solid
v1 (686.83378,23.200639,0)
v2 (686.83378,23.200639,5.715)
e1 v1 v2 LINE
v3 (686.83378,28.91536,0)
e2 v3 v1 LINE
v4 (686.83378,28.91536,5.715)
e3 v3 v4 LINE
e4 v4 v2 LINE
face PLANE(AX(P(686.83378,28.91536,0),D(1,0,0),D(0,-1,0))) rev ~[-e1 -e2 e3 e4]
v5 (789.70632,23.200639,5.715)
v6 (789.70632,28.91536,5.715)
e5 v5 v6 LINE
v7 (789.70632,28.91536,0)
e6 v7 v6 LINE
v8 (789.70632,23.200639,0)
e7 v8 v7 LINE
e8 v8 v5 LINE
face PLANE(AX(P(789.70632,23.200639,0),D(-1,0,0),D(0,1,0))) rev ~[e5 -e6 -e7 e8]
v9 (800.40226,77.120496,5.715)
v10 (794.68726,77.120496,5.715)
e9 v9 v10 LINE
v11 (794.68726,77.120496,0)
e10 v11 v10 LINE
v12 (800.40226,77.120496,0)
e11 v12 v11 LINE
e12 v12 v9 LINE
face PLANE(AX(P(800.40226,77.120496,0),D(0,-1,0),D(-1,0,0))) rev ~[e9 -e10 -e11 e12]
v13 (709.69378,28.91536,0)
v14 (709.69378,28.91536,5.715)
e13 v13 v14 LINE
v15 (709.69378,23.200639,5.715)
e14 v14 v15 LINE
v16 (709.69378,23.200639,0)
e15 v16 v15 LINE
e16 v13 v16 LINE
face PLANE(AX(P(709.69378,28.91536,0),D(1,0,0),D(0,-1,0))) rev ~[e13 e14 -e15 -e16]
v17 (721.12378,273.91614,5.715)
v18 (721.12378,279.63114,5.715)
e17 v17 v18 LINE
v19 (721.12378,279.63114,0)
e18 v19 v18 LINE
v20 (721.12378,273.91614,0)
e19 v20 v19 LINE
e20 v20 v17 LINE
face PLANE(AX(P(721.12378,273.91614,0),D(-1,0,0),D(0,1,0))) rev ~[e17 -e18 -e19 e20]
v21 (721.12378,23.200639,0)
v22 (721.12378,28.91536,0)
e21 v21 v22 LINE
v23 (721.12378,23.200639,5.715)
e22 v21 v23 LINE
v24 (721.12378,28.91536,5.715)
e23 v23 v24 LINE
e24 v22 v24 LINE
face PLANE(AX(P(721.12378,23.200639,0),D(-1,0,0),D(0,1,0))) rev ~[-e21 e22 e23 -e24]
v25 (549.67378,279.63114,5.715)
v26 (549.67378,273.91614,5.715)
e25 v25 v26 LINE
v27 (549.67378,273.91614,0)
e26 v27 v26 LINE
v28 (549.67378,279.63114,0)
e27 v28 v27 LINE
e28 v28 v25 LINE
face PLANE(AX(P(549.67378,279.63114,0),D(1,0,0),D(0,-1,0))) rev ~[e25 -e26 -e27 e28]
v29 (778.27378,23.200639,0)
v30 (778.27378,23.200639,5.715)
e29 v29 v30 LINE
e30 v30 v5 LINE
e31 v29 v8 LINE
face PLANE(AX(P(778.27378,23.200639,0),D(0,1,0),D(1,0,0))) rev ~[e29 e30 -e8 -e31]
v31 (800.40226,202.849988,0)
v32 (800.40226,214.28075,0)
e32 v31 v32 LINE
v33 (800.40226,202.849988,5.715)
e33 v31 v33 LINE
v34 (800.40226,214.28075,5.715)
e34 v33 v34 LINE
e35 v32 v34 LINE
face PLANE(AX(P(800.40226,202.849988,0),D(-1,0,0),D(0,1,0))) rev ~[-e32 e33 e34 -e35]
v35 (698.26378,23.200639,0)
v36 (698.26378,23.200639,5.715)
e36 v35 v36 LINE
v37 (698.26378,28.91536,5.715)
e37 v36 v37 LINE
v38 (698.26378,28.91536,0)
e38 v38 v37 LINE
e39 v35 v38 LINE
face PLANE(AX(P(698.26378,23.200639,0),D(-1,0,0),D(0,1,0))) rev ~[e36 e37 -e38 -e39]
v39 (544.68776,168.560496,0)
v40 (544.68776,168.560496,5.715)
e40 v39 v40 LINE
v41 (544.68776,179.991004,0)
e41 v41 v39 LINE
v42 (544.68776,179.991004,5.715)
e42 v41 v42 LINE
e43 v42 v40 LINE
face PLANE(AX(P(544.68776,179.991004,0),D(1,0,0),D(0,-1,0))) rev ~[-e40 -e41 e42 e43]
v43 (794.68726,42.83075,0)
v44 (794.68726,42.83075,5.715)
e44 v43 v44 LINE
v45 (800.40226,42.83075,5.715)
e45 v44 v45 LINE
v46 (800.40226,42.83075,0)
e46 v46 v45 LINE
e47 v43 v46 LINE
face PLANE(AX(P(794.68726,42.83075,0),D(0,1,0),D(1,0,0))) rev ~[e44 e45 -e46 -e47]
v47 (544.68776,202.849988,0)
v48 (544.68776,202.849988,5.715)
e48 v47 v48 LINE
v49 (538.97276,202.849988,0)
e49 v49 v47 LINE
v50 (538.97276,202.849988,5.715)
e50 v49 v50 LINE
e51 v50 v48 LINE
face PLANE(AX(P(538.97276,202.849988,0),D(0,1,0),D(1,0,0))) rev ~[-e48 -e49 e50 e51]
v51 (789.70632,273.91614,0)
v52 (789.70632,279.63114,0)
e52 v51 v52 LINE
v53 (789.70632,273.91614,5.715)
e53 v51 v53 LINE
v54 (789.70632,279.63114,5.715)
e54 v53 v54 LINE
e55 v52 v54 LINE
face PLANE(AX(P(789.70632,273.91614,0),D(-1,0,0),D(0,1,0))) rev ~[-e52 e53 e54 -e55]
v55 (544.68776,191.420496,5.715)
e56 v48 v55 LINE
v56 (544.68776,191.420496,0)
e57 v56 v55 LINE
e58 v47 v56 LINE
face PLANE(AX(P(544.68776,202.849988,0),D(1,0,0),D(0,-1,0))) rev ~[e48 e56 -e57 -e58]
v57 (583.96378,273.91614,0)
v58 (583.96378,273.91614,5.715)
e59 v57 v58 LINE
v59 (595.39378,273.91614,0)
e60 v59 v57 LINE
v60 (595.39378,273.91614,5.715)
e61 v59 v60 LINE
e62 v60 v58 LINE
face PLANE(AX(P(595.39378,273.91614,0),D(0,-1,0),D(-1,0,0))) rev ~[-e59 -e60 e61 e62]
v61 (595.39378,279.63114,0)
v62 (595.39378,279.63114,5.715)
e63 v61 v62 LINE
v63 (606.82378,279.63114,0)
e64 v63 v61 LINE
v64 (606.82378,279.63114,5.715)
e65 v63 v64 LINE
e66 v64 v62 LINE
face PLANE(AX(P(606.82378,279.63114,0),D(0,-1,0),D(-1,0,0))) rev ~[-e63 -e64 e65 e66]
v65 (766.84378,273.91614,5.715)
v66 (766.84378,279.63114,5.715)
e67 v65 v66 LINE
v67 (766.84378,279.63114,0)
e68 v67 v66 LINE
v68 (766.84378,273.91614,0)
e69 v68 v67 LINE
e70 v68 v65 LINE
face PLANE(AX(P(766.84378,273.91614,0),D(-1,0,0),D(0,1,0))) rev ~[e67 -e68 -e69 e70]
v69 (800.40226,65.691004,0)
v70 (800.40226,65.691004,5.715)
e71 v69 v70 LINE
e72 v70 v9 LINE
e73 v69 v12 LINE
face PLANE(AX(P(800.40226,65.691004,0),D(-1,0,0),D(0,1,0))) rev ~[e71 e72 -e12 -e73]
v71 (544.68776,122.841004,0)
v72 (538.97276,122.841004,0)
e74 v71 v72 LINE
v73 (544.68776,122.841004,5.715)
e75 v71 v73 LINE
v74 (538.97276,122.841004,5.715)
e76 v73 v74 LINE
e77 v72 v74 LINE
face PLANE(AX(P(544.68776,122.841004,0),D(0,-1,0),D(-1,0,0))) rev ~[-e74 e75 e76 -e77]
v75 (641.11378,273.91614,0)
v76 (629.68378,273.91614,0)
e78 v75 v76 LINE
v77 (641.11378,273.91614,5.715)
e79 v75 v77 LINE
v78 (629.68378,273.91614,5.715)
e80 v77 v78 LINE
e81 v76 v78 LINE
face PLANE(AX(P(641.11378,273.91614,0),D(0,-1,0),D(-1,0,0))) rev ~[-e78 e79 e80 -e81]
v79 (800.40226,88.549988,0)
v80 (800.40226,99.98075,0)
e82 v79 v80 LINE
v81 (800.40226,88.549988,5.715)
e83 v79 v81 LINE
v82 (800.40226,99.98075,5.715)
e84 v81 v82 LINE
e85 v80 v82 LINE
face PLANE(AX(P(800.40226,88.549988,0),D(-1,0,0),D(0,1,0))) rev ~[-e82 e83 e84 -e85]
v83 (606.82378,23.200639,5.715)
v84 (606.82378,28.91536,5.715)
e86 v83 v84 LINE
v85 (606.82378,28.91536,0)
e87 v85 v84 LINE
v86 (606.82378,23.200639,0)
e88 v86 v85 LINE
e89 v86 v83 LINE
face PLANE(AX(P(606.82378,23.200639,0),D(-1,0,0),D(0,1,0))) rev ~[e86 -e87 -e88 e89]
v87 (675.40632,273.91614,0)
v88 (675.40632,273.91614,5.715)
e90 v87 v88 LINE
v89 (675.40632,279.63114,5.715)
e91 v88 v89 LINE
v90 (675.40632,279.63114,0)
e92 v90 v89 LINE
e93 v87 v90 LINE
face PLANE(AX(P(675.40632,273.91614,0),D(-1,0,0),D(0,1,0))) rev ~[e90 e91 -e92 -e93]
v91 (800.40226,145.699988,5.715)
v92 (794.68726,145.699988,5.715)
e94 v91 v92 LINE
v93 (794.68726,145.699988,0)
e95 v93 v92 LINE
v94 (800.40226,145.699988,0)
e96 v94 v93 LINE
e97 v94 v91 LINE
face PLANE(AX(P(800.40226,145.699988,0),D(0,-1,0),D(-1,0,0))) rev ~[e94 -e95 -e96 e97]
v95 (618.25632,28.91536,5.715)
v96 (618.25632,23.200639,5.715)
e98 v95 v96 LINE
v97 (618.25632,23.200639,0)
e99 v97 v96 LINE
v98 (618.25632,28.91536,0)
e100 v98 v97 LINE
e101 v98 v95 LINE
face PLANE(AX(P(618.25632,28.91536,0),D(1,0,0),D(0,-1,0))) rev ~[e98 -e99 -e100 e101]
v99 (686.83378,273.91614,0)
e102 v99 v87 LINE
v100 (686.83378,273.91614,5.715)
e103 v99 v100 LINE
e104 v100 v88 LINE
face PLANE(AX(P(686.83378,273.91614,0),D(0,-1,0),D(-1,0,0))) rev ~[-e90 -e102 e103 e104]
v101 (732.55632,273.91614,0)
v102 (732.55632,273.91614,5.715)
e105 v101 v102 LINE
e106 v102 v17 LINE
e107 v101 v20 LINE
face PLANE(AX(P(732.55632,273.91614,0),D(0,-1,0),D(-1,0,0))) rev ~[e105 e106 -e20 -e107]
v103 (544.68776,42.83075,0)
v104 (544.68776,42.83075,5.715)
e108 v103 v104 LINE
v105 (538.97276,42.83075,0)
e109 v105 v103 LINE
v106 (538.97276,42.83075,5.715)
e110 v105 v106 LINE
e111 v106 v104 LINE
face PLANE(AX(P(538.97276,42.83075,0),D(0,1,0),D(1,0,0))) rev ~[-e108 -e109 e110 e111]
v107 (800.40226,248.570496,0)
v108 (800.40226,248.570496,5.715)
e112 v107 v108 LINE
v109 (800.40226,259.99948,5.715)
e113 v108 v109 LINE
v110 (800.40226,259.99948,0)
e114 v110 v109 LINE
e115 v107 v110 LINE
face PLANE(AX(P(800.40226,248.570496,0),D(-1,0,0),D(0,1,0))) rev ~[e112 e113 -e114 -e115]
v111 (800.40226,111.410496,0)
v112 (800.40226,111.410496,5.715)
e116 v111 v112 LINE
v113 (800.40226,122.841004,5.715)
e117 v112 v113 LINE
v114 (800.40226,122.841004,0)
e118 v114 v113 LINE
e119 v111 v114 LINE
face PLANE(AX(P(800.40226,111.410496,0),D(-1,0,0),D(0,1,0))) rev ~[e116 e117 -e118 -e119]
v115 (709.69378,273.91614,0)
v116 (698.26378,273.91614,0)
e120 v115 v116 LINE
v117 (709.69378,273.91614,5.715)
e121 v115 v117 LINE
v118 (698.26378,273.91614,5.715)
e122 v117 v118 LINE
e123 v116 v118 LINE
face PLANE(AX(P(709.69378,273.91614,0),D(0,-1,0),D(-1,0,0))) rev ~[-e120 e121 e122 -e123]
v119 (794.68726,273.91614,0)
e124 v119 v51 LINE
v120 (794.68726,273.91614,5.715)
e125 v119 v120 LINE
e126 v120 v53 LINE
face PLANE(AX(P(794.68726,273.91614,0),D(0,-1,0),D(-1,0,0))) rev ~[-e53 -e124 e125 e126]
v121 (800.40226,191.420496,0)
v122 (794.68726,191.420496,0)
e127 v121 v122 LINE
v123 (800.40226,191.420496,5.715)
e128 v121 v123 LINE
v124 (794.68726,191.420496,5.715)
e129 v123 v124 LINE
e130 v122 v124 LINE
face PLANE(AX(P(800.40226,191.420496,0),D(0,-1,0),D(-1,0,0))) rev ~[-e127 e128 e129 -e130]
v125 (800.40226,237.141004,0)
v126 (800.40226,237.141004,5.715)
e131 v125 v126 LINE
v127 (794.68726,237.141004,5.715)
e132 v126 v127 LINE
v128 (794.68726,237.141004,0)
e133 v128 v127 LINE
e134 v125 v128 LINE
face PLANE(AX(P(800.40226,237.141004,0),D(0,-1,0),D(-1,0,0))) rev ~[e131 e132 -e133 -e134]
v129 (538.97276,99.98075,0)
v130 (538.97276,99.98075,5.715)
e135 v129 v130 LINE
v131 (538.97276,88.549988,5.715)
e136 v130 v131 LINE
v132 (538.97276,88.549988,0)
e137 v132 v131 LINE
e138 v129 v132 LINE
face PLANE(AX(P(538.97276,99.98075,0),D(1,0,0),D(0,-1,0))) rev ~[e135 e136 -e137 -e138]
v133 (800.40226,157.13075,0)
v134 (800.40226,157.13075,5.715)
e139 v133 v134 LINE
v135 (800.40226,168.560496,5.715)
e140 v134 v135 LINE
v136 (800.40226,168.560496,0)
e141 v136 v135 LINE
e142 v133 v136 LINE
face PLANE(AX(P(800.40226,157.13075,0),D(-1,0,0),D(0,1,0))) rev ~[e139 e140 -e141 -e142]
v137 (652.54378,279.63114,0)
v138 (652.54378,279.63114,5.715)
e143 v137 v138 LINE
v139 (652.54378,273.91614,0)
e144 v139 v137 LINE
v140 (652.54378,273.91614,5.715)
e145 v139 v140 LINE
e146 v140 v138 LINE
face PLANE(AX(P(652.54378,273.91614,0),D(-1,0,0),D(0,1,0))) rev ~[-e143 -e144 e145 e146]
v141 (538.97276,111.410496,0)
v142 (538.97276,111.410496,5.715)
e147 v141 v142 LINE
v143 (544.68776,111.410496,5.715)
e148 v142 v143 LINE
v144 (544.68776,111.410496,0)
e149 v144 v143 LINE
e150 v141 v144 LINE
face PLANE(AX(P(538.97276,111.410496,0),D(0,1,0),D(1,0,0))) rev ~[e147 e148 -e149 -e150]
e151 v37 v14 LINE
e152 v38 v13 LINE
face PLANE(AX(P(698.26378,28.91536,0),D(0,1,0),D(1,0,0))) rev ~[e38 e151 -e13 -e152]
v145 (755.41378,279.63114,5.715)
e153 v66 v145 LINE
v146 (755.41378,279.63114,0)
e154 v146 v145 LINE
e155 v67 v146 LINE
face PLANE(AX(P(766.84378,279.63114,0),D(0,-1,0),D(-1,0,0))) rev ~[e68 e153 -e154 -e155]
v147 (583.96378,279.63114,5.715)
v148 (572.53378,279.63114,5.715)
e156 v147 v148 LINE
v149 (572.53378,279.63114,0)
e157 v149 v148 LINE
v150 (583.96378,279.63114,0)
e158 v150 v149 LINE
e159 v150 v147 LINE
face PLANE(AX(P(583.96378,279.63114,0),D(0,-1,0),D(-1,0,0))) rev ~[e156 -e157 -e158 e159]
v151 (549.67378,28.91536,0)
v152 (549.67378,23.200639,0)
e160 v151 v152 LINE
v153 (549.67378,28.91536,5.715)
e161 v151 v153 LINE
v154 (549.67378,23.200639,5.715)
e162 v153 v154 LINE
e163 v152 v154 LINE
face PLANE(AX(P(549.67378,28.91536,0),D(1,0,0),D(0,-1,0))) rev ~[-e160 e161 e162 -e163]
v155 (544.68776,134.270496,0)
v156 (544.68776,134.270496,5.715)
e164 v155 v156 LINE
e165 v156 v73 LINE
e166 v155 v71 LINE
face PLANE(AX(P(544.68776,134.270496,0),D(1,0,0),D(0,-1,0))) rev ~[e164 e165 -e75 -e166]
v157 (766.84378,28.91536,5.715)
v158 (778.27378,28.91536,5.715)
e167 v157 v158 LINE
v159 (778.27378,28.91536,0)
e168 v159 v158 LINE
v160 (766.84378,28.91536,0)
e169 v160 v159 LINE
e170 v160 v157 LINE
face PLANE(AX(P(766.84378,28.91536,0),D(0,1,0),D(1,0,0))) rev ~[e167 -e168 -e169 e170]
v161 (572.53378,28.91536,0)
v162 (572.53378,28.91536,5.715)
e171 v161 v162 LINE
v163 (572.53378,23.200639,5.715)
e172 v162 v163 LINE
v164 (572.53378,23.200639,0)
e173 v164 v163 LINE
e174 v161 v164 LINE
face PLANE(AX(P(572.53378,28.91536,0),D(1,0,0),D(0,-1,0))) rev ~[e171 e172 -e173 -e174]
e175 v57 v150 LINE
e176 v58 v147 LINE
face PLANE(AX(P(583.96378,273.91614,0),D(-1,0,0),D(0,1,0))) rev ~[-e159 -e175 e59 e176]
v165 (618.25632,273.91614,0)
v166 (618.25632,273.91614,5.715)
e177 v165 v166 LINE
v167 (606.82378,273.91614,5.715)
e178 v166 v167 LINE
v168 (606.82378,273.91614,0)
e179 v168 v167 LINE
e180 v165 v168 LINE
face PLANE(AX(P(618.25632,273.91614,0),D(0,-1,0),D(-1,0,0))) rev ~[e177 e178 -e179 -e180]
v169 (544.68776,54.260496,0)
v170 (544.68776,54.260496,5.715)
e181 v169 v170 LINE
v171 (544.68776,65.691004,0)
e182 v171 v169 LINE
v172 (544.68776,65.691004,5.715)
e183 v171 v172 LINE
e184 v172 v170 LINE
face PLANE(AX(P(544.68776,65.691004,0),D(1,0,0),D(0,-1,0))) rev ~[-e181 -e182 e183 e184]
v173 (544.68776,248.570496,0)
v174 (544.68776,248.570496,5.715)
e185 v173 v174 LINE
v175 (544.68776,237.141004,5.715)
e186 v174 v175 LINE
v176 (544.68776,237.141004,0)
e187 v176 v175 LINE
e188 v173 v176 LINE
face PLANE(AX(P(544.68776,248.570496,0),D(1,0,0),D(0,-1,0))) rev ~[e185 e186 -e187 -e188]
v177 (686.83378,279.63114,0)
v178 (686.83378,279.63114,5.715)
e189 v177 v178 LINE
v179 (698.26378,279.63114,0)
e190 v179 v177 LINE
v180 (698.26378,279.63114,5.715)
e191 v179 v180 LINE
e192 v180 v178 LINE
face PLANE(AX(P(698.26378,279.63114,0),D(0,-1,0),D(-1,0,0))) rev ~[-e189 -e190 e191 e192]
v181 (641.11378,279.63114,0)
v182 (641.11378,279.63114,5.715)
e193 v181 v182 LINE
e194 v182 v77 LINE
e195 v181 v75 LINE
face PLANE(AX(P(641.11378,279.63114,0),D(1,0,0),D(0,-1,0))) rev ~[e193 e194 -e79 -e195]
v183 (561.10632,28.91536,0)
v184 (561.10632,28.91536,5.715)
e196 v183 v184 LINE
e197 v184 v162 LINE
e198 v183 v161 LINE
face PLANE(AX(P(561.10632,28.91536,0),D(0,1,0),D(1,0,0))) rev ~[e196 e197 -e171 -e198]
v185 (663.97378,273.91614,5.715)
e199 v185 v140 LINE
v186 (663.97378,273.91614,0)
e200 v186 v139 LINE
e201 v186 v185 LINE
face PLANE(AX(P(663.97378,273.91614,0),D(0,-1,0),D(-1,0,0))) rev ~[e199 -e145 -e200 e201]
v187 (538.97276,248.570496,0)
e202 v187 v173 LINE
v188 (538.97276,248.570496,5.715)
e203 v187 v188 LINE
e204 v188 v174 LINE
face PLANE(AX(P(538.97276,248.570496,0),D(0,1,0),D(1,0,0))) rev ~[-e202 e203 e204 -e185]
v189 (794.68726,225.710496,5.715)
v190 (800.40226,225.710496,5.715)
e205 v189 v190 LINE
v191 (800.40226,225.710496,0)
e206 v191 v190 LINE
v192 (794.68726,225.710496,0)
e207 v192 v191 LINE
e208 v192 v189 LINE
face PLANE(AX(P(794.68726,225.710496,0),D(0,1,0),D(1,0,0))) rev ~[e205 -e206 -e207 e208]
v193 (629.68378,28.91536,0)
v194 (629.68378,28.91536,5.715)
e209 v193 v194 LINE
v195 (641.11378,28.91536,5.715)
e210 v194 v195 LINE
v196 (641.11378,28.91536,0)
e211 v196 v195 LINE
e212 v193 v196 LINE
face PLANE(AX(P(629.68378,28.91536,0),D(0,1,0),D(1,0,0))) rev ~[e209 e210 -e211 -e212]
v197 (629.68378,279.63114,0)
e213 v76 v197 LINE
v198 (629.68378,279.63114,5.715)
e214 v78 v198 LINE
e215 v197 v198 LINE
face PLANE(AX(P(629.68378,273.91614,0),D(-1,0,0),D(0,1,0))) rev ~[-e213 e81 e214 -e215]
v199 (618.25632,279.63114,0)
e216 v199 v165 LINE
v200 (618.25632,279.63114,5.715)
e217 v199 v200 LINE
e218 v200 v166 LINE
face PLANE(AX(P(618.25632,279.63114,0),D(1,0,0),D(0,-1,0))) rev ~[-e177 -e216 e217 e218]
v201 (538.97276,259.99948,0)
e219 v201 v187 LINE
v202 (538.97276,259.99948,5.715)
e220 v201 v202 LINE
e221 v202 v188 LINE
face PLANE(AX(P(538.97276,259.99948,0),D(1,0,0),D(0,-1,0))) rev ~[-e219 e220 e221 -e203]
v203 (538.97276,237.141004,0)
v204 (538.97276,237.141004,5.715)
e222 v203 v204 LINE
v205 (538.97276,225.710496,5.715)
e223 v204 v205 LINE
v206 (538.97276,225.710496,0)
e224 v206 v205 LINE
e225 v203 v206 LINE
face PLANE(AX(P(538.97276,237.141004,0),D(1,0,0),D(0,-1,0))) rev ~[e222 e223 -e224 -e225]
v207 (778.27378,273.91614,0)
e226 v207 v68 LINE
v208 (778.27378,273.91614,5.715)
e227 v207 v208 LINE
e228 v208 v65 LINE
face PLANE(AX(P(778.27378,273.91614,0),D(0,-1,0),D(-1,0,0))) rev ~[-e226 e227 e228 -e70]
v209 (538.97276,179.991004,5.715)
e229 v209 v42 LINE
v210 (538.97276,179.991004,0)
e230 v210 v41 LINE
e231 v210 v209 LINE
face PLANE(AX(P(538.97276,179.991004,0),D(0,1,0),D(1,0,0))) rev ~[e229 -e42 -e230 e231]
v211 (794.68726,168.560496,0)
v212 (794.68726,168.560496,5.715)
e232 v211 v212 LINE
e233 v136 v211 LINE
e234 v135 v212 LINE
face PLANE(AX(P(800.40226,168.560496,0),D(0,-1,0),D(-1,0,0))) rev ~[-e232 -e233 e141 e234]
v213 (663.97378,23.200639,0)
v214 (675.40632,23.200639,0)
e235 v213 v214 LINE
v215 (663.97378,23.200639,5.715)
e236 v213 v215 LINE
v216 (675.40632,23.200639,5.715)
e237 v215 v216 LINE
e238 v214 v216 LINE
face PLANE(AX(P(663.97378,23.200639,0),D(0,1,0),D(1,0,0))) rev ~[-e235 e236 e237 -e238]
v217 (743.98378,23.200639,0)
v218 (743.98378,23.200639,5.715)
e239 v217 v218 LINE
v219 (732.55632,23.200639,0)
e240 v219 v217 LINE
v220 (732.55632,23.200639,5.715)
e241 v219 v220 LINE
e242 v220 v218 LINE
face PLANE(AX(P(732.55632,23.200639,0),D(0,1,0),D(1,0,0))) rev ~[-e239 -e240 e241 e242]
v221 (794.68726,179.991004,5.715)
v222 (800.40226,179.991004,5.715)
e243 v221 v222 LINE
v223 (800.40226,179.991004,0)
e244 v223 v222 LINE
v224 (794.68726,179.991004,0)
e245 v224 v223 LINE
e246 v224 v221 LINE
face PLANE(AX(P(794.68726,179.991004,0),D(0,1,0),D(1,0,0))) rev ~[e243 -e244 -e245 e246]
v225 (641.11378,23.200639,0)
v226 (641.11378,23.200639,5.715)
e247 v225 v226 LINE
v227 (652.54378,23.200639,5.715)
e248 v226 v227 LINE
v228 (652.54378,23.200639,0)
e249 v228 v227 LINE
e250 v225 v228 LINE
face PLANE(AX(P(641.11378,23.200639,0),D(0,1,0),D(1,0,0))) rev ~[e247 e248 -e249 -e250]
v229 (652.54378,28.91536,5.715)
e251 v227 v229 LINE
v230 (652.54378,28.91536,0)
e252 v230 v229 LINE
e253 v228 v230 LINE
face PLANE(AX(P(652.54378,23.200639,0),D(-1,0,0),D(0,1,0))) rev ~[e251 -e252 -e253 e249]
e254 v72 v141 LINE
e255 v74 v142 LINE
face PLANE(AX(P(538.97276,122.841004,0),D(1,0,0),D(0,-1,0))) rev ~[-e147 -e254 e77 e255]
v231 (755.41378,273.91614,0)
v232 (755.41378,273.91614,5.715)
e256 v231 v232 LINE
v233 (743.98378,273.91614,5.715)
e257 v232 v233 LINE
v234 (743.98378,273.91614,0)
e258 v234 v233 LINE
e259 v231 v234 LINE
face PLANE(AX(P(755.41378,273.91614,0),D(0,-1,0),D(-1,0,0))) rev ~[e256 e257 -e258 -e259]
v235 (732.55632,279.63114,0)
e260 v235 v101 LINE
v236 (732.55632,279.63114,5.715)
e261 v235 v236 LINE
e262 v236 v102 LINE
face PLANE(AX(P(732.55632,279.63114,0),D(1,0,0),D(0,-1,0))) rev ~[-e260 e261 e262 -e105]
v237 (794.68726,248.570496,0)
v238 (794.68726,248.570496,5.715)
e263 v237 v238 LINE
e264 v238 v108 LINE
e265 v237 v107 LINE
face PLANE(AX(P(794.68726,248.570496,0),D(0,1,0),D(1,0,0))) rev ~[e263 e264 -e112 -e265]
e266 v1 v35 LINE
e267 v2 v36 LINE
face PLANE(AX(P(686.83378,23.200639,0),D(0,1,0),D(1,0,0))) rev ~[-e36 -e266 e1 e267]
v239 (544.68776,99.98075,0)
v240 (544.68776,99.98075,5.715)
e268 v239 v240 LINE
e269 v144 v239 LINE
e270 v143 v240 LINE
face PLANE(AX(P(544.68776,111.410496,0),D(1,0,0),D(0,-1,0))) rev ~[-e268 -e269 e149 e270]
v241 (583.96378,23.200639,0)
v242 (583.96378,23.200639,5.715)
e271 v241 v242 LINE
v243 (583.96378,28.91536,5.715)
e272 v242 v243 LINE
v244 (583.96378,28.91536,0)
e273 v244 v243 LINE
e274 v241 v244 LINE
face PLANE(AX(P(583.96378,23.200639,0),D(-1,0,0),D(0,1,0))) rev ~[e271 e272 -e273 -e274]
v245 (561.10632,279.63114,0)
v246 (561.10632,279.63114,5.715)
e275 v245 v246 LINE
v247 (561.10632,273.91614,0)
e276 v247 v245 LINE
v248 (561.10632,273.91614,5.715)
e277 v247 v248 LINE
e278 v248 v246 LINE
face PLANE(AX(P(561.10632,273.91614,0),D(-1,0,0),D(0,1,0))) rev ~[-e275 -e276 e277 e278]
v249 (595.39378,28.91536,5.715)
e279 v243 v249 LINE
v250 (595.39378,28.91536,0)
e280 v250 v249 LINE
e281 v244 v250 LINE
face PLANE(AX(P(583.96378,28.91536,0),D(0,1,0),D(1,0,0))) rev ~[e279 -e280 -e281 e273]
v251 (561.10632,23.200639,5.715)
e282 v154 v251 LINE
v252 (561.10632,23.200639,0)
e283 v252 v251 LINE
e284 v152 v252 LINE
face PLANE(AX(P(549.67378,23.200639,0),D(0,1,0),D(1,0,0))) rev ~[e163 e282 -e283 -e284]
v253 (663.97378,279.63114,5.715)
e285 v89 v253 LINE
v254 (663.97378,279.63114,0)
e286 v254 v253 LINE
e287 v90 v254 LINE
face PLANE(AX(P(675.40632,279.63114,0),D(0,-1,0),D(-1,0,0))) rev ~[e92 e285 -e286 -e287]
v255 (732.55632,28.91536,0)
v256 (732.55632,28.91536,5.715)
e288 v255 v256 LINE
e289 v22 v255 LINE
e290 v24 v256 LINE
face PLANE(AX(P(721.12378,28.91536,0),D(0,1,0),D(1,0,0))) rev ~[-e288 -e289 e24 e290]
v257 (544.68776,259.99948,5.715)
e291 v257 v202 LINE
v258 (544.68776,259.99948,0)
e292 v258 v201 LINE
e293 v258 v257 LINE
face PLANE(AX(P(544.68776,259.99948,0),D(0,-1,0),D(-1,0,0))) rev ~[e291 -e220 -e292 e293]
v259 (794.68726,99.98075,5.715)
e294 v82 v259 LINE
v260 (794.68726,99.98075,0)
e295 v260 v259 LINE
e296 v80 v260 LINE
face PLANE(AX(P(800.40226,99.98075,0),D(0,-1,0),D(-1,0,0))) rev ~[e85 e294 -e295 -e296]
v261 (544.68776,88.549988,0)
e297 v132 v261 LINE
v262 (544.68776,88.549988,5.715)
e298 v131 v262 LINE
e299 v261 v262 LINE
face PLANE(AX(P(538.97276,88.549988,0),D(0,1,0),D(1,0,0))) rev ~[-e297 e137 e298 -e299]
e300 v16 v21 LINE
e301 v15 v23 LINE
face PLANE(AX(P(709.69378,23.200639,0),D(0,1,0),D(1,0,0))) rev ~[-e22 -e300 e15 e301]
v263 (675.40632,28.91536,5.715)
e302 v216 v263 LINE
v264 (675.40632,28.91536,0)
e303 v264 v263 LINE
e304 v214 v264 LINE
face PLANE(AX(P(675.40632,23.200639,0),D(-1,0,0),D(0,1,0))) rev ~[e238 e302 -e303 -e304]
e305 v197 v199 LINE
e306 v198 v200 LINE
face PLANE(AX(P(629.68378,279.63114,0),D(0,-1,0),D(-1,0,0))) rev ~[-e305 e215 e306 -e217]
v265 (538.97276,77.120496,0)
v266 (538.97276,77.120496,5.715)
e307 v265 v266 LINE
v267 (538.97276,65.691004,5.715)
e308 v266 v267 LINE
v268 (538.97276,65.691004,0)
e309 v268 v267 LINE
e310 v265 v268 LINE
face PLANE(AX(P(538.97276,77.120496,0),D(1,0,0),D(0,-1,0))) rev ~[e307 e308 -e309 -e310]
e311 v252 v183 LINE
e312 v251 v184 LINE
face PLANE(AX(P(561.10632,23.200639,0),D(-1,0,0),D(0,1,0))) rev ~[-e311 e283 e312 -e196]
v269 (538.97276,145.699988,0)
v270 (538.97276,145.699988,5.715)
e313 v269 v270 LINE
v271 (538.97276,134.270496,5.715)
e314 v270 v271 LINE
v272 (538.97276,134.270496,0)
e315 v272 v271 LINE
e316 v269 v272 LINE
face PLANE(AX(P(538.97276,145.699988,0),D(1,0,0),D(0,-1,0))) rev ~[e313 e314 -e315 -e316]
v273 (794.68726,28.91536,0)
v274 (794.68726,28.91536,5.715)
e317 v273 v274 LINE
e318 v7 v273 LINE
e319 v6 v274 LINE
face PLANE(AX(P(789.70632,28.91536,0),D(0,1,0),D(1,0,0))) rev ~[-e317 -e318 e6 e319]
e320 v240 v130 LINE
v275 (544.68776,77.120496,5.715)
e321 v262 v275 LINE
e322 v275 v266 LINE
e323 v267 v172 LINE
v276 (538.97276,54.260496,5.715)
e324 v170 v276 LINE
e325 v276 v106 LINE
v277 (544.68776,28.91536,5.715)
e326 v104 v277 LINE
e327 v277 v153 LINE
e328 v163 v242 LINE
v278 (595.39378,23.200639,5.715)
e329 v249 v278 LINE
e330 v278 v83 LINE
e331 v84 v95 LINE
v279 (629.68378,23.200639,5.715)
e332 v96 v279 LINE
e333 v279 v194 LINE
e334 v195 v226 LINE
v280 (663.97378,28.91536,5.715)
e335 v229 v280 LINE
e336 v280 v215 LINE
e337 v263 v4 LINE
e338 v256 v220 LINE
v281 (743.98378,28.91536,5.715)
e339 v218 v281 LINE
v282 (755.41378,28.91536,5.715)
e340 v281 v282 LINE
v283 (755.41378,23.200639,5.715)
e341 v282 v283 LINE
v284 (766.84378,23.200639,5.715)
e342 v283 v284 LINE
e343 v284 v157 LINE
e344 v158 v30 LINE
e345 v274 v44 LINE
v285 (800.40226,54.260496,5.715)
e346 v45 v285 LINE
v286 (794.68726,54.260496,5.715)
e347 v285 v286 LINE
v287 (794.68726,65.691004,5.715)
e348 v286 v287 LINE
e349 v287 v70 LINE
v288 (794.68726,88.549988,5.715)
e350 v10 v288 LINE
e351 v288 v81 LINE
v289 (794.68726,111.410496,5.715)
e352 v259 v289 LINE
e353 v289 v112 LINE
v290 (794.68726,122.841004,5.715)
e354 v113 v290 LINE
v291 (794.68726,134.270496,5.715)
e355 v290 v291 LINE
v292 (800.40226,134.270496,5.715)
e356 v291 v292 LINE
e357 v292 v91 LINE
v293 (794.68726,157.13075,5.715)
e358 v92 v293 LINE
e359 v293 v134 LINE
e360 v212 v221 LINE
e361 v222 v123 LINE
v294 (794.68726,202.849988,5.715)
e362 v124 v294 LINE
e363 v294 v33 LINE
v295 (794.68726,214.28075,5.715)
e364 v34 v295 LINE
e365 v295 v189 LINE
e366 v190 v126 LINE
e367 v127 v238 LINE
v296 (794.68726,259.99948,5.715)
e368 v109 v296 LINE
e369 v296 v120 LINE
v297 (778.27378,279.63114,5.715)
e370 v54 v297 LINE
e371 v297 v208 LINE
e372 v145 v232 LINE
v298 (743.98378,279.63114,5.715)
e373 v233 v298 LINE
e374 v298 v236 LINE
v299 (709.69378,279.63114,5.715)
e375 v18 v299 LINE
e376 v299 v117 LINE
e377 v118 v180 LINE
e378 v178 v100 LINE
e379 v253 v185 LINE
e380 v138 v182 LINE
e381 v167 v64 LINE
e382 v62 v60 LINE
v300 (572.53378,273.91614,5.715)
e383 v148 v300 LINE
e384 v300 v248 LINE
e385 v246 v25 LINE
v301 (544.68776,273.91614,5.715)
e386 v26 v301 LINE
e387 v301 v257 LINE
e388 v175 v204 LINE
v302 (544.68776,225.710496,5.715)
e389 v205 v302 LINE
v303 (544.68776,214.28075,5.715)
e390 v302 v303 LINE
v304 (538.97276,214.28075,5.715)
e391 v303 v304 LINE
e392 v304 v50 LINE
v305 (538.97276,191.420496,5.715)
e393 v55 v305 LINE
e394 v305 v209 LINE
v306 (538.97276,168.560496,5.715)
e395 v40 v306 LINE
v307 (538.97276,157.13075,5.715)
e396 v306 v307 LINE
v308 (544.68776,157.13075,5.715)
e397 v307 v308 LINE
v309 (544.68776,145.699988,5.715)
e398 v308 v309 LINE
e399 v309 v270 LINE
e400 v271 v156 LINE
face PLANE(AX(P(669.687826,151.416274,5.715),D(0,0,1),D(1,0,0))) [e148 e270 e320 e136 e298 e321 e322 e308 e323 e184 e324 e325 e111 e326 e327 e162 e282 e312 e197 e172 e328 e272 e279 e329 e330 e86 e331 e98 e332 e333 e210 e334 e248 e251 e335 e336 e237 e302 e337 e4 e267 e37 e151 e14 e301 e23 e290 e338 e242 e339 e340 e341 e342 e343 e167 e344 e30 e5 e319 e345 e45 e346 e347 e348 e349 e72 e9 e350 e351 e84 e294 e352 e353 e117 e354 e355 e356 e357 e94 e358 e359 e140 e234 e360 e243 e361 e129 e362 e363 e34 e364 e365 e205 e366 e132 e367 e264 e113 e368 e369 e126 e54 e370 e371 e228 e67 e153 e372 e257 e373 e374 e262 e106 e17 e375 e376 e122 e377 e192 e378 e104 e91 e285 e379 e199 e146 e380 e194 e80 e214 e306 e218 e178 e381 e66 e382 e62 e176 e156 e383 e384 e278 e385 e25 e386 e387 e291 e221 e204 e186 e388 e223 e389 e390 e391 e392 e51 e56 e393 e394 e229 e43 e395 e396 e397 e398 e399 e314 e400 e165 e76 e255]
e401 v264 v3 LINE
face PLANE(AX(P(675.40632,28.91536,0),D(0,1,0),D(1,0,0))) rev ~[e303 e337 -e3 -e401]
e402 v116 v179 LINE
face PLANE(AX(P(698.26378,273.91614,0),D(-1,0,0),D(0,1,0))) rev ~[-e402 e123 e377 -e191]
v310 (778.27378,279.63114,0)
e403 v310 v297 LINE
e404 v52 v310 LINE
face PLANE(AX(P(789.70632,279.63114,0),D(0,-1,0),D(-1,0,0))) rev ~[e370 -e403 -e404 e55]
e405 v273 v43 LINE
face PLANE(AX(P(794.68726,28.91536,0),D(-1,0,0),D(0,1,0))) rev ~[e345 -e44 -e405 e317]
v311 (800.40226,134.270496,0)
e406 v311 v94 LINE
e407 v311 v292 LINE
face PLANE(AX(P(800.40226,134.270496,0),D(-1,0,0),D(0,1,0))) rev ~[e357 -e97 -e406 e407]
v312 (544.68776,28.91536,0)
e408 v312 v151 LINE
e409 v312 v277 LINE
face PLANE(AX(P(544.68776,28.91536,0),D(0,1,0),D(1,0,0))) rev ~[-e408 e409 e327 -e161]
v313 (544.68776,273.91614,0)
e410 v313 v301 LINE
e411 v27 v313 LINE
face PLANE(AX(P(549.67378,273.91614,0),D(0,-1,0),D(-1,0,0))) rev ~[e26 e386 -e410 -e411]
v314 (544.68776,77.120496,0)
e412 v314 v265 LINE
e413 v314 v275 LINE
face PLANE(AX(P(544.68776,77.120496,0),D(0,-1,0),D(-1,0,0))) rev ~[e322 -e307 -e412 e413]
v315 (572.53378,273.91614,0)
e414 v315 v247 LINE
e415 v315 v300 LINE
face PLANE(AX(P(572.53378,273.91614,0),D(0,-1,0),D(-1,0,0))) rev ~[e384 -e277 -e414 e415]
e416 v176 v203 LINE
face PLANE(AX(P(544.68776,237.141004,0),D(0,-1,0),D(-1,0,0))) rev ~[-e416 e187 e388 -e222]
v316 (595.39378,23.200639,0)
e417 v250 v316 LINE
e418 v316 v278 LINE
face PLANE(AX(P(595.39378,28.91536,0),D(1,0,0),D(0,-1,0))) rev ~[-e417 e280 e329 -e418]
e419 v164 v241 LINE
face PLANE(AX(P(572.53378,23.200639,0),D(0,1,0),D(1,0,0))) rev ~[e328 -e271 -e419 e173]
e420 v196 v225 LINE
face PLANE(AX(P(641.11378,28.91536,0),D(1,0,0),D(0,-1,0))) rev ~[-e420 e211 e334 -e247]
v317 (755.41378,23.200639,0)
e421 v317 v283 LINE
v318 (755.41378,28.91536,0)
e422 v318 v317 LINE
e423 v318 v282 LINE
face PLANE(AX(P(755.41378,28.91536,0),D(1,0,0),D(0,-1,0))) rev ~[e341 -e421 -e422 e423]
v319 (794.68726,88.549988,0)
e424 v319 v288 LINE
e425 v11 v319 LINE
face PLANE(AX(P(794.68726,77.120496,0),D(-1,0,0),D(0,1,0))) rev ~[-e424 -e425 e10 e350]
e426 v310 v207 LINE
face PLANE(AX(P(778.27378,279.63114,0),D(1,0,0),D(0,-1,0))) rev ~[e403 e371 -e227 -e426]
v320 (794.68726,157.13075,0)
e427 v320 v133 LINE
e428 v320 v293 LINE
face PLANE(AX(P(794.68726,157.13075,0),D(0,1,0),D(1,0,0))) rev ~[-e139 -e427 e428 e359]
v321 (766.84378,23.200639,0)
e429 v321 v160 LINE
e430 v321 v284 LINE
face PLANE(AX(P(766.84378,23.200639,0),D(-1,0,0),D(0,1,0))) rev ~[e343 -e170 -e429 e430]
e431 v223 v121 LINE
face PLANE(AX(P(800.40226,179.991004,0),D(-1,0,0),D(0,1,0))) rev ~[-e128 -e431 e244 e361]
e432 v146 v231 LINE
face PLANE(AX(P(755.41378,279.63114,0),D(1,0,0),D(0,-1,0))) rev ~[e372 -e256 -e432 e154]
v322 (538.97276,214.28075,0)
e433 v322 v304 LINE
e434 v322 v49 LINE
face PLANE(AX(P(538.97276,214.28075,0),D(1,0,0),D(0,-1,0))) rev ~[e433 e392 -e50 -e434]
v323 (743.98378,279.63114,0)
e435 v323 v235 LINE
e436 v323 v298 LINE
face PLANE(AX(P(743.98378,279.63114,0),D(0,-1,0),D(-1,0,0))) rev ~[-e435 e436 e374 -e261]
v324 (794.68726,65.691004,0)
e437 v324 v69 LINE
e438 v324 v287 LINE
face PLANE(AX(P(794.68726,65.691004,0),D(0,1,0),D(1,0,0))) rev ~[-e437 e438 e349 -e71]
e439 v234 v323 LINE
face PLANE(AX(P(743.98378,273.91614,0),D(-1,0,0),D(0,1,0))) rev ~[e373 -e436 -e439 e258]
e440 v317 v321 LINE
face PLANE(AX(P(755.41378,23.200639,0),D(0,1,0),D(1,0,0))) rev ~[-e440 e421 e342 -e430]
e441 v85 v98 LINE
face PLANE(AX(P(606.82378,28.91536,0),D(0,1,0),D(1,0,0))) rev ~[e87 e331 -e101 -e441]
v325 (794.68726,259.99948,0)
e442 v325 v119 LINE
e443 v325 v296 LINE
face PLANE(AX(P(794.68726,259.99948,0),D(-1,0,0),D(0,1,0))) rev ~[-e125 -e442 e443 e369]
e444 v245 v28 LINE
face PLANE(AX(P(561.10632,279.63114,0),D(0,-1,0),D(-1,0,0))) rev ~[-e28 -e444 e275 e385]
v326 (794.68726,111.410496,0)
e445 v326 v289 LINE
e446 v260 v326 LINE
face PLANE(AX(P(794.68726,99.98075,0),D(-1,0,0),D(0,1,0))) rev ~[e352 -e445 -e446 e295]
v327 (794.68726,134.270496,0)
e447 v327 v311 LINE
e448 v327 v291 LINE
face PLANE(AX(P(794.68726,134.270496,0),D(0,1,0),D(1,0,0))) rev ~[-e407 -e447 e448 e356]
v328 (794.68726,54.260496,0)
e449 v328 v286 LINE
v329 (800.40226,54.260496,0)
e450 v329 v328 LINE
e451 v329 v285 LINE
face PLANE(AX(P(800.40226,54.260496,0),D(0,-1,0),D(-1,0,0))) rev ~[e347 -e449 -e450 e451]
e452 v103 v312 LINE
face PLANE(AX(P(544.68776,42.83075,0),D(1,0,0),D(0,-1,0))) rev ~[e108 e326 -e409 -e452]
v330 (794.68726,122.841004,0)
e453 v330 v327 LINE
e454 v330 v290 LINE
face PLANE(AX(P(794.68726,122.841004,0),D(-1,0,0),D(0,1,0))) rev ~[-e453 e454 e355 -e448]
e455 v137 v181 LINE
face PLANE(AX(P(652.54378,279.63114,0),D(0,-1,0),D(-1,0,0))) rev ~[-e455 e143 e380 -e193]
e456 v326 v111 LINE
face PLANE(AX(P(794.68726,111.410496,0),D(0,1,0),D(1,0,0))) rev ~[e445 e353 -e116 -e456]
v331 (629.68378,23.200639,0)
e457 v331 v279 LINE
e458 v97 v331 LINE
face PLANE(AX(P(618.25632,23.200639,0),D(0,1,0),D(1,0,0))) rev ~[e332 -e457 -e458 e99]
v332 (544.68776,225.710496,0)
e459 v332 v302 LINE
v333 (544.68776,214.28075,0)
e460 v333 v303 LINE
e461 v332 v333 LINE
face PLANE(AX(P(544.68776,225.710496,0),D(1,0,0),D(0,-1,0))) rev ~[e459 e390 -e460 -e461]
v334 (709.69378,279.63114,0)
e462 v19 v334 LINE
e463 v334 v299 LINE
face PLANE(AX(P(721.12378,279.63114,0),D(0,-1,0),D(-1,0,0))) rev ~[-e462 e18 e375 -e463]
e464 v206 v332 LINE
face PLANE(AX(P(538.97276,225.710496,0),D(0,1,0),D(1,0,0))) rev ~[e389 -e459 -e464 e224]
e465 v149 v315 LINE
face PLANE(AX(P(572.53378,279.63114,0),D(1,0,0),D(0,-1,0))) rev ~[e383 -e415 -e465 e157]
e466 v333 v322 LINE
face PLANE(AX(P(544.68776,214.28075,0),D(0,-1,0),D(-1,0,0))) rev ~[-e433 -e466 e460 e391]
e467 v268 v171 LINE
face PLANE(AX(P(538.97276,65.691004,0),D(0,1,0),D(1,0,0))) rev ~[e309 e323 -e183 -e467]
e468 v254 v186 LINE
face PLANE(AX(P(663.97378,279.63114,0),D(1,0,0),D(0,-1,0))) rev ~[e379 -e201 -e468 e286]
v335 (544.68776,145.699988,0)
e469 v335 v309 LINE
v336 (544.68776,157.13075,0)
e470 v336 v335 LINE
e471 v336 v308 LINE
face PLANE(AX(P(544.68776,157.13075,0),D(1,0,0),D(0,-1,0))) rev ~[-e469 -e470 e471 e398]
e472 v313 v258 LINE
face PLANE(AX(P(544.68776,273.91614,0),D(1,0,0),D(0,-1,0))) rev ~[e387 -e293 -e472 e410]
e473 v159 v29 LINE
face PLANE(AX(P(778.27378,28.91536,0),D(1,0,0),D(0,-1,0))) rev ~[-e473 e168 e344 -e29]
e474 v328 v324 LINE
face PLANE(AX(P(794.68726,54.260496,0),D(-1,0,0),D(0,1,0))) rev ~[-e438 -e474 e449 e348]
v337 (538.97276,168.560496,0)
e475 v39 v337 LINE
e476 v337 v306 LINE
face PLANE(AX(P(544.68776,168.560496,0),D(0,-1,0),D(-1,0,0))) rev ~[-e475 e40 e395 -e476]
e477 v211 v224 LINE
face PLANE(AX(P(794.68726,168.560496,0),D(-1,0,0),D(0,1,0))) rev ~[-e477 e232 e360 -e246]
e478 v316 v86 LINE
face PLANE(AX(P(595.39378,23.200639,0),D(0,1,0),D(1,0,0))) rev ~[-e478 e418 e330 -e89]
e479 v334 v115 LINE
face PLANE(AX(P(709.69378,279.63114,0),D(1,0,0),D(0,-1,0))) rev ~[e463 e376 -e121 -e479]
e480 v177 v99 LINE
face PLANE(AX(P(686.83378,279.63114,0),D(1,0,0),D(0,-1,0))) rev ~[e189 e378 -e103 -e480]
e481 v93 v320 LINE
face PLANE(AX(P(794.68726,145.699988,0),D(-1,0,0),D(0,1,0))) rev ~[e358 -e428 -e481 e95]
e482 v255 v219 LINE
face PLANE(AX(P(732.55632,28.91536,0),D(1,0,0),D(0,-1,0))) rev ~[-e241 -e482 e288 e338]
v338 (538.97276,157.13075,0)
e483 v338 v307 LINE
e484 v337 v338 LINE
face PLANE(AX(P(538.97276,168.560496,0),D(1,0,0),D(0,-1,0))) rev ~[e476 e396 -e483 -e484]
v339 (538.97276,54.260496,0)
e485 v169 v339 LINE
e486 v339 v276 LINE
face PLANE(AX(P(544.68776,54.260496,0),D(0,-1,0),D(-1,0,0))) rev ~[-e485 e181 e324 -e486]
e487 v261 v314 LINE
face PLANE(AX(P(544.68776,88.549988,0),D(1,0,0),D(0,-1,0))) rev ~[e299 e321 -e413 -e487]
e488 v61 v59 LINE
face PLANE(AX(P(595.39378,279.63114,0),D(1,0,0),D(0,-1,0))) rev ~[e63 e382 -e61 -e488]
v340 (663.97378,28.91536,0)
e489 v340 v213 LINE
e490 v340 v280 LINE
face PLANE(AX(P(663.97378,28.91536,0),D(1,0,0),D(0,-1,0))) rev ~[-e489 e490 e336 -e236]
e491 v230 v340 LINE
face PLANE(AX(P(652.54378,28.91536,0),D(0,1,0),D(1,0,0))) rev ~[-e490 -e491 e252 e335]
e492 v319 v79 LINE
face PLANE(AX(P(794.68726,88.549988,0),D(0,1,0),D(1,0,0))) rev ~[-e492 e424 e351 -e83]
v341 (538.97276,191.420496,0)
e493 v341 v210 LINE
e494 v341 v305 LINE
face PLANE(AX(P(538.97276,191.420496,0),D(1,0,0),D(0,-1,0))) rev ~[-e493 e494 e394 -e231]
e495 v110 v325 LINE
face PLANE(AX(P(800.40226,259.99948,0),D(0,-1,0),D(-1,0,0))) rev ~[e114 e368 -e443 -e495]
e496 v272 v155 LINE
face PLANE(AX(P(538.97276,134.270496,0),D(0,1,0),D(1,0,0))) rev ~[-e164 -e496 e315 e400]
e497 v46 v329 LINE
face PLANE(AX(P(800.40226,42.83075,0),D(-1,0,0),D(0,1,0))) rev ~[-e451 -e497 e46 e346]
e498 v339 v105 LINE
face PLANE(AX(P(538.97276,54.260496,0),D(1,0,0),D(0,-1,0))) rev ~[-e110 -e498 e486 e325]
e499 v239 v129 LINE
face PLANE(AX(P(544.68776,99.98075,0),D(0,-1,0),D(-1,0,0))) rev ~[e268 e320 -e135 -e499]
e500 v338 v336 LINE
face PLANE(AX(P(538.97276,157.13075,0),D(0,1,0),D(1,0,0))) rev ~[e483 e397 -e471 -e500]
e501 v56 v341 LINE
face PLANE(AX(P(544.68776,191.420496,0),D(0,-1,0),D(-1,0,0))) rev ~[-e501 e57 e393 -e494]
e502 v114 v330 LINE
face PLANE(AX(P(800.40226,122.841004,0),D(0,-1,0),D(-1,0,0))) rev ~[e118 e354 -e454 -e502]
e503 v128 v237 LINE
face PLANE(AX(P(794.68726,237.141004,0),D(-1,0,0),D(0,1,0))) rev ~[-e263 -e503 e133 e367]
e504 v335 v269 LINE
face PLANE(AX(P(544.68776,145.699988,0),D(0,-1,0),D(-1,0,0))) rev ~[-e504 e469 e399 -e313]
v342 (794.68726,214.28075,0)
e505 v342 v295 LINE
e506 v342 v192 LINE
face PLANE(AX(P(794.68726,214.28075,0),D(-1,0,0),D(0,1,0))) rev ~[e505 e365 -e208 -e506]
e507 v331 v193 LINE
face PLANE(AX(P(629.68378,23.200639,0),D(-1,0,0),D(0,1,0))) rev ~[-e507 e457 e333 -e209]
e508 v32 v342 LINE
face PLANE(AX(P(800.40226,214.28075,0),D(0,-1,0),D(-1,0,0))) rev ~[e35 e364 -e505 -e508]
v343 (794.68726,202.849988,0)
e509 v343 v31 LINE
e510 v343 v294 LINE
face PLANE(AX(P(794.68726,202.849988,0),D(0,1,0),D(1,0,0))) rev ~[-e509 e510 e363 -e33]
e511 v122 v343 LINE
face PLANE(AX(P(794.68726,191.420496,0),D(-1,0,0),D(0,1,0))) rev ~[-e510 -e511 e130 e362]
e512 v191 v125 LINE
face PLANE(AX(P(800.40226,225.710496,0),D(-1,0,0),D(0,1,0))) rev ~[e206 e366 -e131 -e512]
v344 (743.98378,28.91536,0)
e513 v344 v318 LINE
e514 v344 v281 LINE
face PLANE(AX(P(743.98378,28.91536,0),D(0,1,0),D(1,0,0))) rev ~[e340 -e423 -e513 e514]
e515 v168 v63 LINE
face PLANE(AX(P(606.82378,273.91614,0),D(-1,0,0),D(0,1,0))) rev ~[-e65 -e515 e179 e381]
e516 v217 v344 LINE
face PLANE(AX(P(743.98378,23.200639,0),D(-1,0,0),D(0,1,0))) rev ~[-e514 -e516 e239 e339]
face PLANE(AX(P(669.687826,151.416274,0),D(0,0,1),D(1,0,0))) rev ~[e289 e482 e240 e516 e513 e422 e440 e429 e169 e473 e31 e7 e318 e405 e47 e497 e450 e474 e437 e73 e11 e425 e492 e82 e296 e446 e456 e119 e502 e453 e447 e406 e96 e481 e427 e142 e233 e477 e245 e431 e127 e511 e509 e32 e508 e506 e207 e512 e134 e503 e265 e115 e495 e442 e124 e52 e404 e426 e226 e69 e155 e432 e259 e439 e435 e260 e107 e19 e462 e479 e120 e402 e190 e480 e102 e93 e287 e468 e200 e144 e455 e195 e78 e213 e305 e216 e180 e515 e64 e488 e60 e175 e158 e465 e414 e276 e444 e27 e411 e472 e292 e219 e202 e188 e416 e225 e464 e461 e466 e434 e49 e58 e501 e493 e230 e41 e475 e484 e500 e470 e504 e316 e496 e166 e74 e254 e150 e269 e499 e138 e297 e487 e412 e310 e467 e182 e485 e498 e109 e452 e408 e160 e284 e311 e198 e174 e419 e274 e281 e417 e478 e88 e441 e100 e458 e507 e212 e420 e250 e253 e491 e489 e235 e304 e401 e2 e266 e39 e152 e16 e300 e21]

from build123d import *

# Parameters (mm, degrees)
BOSS_EXTRUDE1_DEPTH = 5.715


with BuildPart() as part:
    # Model → Boss-Extrude1 (new body)
    with BuildSketch(Plane.XY):
        Polygon((544.68776, 28.91536), (549.67378, 28.91536), (549.67378, 23.2006394), (561.10632, 23.2006394), (561.10632, 28.91536), (572.53378, 28.91536), (572.53378, 23.2006394), (583.96378, 23.2006394), (583.96378, 28.91536), (595.39378, 28.91536), (595.39378, 23.2006394), (606.82378, 23.2006394), (606.82378, 28.91536), (618.25632, 28.91536), (618.25632, 23.2006394), (629.68378, 23.2006394), (629.68378, 28.91536), (641.11378, 28.91536), (641.11378, 23.2006394), (652.54378, 23.2006394), (652.54378, 28.91536), (663.97378, 28.91536), (663.97378, 23.2006394), (675.40632, 23.2006394), (675.40632, 28.91536), (686.83378, 28.91536), (686.83378, 23.2006394), (698.26378, 23.2006394), (698.26378, 28.91536), (709.69378, 28.91536), (709.69378, 23.2006394), (721.12378, 23.2006394), (721.12378, 28.91536), (732.55632, 28.91536), (732.55632, 23.2006394), (743.98378, 23.2006394), (743.98378, 28.91536), (755.41378, 28.91536), (755.41378, 23.2006394), (766.84378, 23.2006394), (766.84378, 28.91536), (778.27378, 28.91536), (778.27378, 23.2006394), (789.70632, 23.2006394), (789.70632, 28.91536), (794.68726, 28.91536), (794.68726, 42.83075), (800.40226, 42.83075), (800.40226, 54.260496), (794.68726, 54.260496), (794.68726, 65.691004), (800.40226, 65.691004), (800.40226, 77.120496), (794.68726, 77.120496), (794.68726, 88.549988), (800.40226, 88.549988), (800.40226, 99.98075), (794.68726, 99.98075), (794.68726, 111.410496), (800.40226, 111.410496), (800.40226, 122.841004), (794.68726, 122.841004), (794.68726, 134.270496), (800.40226, 134.270496), (800.40226, 145.699988), (794.68726, 145.699988), (794.68726, 157.13075), (800.40226, 157.13075), (800.40226, 168.560496), (794.68726, 168.560496), (794.68726, 179.991004), (800.40226, 179.991004), (800.40226, 191.420496), (794.68726, 191.420496), (794.68726, 202.849988), (800.40226, 202.849988), (800.40226, 214.28075), (794.68726, 214.28075), (794.68726, 225.710496), (800.40226, 225.710496), (800.40226, 237.141004), (794.68726, 237.141004), (794.68726, 248.570496), (800.40226, 248.570496), (800.40226, 259.99948), (794.68726, 259.99948), (794.68726, 273.91614), (789.70632, 273.91614), (789.70632, 279.63114), (778.27378, 279.63114), (778.27378, 273.91614), (766.84378, 273.91614), (766.84378, 279.63114), (755.41378, 279.63114), (755.41378, 273.91614), (743.98378, 273.91614), (743.98378, 279.63114), (732.55632, 279.63114), (732.55632, 273.91614), (721.12378, 273.91614), (721.12378, 279.63114), (709.69378, 279.63114), (709.69378, 273.91614), (698.26378, 273.91614), (698.26378, 279.63114), (686.83378, 279.63114), (686.83378, 273.91614), (675.40632, 273.91614), (675.40632, 279.63114), (663.97378, 279.63114), (663.97378, 273.91614), (652.54378, 273.91614), (652.54378, 279.63114), (641.11378, 279.63114), (641.11378, 273.91614), (629.68378, 273.91614), (629.68378, 279.63114), (618.25632, 279.63114), (618.25632, 273.91614), (606.82378, 273.91614), (606.82378, 279.63114), (595.39378, 279.63114), (595.39378, 273.91614), (583.96378, 273.91614), (583.96378, 279.63114), (572.53378, 279.63114), (572.53378, 273.91614), (561.10632, 273.91614), (561.10632, 279.63114), (549.67378, 279.63114), (549.67378, 273.91614), (544.68776, 273.91614), (544.68776, 259.99948), (538.97276, 259.99948), (538.97276, 248.570496), (544.68776, 248.570496), (544.68776, 237.141004), (538.97276, 237.141004), (538.97276, 225.710496), (544.68776, 225.710496), (544.68776, 214.28075), (538.97276, 214.28075), (538.97276, 202.849988), (544.68776, 202.849988), (544.68776, 191.420496), (538.97276, 191.420496), (538.97276, 179.991004), (544.68776, 179.991004), (544.68776, 168.560496), (538.97276, 168.560496), (538.97276, 157.13075), (544.68776, 157.13075), (544.68776, 145.699988), (538.97276, 145.699988), (538.97276, 134.270496), (544.68776, 134.270496), (544.68776, 122.841004), (538.97276, 122.841004), (538.97276, 111.410496), (544.68776, 111.410496), (544.68776, 99.98075), (538.97276, 99.98075), (538.97276, 88.549988), (544.68776, 88.549988), (544.68776, 77.120496), (538.97276, 77.120496), (538.97276, 65.691004), (544.68776, 65.691004), (544.68776, 54.260496), (538.97276, 54.260496), (538.97276, 42.83075), (544.68776, 42.83075), align=None)
    extrude(amount=BOSS_EXTRUDE1_DEPTH)


solid = part.part
